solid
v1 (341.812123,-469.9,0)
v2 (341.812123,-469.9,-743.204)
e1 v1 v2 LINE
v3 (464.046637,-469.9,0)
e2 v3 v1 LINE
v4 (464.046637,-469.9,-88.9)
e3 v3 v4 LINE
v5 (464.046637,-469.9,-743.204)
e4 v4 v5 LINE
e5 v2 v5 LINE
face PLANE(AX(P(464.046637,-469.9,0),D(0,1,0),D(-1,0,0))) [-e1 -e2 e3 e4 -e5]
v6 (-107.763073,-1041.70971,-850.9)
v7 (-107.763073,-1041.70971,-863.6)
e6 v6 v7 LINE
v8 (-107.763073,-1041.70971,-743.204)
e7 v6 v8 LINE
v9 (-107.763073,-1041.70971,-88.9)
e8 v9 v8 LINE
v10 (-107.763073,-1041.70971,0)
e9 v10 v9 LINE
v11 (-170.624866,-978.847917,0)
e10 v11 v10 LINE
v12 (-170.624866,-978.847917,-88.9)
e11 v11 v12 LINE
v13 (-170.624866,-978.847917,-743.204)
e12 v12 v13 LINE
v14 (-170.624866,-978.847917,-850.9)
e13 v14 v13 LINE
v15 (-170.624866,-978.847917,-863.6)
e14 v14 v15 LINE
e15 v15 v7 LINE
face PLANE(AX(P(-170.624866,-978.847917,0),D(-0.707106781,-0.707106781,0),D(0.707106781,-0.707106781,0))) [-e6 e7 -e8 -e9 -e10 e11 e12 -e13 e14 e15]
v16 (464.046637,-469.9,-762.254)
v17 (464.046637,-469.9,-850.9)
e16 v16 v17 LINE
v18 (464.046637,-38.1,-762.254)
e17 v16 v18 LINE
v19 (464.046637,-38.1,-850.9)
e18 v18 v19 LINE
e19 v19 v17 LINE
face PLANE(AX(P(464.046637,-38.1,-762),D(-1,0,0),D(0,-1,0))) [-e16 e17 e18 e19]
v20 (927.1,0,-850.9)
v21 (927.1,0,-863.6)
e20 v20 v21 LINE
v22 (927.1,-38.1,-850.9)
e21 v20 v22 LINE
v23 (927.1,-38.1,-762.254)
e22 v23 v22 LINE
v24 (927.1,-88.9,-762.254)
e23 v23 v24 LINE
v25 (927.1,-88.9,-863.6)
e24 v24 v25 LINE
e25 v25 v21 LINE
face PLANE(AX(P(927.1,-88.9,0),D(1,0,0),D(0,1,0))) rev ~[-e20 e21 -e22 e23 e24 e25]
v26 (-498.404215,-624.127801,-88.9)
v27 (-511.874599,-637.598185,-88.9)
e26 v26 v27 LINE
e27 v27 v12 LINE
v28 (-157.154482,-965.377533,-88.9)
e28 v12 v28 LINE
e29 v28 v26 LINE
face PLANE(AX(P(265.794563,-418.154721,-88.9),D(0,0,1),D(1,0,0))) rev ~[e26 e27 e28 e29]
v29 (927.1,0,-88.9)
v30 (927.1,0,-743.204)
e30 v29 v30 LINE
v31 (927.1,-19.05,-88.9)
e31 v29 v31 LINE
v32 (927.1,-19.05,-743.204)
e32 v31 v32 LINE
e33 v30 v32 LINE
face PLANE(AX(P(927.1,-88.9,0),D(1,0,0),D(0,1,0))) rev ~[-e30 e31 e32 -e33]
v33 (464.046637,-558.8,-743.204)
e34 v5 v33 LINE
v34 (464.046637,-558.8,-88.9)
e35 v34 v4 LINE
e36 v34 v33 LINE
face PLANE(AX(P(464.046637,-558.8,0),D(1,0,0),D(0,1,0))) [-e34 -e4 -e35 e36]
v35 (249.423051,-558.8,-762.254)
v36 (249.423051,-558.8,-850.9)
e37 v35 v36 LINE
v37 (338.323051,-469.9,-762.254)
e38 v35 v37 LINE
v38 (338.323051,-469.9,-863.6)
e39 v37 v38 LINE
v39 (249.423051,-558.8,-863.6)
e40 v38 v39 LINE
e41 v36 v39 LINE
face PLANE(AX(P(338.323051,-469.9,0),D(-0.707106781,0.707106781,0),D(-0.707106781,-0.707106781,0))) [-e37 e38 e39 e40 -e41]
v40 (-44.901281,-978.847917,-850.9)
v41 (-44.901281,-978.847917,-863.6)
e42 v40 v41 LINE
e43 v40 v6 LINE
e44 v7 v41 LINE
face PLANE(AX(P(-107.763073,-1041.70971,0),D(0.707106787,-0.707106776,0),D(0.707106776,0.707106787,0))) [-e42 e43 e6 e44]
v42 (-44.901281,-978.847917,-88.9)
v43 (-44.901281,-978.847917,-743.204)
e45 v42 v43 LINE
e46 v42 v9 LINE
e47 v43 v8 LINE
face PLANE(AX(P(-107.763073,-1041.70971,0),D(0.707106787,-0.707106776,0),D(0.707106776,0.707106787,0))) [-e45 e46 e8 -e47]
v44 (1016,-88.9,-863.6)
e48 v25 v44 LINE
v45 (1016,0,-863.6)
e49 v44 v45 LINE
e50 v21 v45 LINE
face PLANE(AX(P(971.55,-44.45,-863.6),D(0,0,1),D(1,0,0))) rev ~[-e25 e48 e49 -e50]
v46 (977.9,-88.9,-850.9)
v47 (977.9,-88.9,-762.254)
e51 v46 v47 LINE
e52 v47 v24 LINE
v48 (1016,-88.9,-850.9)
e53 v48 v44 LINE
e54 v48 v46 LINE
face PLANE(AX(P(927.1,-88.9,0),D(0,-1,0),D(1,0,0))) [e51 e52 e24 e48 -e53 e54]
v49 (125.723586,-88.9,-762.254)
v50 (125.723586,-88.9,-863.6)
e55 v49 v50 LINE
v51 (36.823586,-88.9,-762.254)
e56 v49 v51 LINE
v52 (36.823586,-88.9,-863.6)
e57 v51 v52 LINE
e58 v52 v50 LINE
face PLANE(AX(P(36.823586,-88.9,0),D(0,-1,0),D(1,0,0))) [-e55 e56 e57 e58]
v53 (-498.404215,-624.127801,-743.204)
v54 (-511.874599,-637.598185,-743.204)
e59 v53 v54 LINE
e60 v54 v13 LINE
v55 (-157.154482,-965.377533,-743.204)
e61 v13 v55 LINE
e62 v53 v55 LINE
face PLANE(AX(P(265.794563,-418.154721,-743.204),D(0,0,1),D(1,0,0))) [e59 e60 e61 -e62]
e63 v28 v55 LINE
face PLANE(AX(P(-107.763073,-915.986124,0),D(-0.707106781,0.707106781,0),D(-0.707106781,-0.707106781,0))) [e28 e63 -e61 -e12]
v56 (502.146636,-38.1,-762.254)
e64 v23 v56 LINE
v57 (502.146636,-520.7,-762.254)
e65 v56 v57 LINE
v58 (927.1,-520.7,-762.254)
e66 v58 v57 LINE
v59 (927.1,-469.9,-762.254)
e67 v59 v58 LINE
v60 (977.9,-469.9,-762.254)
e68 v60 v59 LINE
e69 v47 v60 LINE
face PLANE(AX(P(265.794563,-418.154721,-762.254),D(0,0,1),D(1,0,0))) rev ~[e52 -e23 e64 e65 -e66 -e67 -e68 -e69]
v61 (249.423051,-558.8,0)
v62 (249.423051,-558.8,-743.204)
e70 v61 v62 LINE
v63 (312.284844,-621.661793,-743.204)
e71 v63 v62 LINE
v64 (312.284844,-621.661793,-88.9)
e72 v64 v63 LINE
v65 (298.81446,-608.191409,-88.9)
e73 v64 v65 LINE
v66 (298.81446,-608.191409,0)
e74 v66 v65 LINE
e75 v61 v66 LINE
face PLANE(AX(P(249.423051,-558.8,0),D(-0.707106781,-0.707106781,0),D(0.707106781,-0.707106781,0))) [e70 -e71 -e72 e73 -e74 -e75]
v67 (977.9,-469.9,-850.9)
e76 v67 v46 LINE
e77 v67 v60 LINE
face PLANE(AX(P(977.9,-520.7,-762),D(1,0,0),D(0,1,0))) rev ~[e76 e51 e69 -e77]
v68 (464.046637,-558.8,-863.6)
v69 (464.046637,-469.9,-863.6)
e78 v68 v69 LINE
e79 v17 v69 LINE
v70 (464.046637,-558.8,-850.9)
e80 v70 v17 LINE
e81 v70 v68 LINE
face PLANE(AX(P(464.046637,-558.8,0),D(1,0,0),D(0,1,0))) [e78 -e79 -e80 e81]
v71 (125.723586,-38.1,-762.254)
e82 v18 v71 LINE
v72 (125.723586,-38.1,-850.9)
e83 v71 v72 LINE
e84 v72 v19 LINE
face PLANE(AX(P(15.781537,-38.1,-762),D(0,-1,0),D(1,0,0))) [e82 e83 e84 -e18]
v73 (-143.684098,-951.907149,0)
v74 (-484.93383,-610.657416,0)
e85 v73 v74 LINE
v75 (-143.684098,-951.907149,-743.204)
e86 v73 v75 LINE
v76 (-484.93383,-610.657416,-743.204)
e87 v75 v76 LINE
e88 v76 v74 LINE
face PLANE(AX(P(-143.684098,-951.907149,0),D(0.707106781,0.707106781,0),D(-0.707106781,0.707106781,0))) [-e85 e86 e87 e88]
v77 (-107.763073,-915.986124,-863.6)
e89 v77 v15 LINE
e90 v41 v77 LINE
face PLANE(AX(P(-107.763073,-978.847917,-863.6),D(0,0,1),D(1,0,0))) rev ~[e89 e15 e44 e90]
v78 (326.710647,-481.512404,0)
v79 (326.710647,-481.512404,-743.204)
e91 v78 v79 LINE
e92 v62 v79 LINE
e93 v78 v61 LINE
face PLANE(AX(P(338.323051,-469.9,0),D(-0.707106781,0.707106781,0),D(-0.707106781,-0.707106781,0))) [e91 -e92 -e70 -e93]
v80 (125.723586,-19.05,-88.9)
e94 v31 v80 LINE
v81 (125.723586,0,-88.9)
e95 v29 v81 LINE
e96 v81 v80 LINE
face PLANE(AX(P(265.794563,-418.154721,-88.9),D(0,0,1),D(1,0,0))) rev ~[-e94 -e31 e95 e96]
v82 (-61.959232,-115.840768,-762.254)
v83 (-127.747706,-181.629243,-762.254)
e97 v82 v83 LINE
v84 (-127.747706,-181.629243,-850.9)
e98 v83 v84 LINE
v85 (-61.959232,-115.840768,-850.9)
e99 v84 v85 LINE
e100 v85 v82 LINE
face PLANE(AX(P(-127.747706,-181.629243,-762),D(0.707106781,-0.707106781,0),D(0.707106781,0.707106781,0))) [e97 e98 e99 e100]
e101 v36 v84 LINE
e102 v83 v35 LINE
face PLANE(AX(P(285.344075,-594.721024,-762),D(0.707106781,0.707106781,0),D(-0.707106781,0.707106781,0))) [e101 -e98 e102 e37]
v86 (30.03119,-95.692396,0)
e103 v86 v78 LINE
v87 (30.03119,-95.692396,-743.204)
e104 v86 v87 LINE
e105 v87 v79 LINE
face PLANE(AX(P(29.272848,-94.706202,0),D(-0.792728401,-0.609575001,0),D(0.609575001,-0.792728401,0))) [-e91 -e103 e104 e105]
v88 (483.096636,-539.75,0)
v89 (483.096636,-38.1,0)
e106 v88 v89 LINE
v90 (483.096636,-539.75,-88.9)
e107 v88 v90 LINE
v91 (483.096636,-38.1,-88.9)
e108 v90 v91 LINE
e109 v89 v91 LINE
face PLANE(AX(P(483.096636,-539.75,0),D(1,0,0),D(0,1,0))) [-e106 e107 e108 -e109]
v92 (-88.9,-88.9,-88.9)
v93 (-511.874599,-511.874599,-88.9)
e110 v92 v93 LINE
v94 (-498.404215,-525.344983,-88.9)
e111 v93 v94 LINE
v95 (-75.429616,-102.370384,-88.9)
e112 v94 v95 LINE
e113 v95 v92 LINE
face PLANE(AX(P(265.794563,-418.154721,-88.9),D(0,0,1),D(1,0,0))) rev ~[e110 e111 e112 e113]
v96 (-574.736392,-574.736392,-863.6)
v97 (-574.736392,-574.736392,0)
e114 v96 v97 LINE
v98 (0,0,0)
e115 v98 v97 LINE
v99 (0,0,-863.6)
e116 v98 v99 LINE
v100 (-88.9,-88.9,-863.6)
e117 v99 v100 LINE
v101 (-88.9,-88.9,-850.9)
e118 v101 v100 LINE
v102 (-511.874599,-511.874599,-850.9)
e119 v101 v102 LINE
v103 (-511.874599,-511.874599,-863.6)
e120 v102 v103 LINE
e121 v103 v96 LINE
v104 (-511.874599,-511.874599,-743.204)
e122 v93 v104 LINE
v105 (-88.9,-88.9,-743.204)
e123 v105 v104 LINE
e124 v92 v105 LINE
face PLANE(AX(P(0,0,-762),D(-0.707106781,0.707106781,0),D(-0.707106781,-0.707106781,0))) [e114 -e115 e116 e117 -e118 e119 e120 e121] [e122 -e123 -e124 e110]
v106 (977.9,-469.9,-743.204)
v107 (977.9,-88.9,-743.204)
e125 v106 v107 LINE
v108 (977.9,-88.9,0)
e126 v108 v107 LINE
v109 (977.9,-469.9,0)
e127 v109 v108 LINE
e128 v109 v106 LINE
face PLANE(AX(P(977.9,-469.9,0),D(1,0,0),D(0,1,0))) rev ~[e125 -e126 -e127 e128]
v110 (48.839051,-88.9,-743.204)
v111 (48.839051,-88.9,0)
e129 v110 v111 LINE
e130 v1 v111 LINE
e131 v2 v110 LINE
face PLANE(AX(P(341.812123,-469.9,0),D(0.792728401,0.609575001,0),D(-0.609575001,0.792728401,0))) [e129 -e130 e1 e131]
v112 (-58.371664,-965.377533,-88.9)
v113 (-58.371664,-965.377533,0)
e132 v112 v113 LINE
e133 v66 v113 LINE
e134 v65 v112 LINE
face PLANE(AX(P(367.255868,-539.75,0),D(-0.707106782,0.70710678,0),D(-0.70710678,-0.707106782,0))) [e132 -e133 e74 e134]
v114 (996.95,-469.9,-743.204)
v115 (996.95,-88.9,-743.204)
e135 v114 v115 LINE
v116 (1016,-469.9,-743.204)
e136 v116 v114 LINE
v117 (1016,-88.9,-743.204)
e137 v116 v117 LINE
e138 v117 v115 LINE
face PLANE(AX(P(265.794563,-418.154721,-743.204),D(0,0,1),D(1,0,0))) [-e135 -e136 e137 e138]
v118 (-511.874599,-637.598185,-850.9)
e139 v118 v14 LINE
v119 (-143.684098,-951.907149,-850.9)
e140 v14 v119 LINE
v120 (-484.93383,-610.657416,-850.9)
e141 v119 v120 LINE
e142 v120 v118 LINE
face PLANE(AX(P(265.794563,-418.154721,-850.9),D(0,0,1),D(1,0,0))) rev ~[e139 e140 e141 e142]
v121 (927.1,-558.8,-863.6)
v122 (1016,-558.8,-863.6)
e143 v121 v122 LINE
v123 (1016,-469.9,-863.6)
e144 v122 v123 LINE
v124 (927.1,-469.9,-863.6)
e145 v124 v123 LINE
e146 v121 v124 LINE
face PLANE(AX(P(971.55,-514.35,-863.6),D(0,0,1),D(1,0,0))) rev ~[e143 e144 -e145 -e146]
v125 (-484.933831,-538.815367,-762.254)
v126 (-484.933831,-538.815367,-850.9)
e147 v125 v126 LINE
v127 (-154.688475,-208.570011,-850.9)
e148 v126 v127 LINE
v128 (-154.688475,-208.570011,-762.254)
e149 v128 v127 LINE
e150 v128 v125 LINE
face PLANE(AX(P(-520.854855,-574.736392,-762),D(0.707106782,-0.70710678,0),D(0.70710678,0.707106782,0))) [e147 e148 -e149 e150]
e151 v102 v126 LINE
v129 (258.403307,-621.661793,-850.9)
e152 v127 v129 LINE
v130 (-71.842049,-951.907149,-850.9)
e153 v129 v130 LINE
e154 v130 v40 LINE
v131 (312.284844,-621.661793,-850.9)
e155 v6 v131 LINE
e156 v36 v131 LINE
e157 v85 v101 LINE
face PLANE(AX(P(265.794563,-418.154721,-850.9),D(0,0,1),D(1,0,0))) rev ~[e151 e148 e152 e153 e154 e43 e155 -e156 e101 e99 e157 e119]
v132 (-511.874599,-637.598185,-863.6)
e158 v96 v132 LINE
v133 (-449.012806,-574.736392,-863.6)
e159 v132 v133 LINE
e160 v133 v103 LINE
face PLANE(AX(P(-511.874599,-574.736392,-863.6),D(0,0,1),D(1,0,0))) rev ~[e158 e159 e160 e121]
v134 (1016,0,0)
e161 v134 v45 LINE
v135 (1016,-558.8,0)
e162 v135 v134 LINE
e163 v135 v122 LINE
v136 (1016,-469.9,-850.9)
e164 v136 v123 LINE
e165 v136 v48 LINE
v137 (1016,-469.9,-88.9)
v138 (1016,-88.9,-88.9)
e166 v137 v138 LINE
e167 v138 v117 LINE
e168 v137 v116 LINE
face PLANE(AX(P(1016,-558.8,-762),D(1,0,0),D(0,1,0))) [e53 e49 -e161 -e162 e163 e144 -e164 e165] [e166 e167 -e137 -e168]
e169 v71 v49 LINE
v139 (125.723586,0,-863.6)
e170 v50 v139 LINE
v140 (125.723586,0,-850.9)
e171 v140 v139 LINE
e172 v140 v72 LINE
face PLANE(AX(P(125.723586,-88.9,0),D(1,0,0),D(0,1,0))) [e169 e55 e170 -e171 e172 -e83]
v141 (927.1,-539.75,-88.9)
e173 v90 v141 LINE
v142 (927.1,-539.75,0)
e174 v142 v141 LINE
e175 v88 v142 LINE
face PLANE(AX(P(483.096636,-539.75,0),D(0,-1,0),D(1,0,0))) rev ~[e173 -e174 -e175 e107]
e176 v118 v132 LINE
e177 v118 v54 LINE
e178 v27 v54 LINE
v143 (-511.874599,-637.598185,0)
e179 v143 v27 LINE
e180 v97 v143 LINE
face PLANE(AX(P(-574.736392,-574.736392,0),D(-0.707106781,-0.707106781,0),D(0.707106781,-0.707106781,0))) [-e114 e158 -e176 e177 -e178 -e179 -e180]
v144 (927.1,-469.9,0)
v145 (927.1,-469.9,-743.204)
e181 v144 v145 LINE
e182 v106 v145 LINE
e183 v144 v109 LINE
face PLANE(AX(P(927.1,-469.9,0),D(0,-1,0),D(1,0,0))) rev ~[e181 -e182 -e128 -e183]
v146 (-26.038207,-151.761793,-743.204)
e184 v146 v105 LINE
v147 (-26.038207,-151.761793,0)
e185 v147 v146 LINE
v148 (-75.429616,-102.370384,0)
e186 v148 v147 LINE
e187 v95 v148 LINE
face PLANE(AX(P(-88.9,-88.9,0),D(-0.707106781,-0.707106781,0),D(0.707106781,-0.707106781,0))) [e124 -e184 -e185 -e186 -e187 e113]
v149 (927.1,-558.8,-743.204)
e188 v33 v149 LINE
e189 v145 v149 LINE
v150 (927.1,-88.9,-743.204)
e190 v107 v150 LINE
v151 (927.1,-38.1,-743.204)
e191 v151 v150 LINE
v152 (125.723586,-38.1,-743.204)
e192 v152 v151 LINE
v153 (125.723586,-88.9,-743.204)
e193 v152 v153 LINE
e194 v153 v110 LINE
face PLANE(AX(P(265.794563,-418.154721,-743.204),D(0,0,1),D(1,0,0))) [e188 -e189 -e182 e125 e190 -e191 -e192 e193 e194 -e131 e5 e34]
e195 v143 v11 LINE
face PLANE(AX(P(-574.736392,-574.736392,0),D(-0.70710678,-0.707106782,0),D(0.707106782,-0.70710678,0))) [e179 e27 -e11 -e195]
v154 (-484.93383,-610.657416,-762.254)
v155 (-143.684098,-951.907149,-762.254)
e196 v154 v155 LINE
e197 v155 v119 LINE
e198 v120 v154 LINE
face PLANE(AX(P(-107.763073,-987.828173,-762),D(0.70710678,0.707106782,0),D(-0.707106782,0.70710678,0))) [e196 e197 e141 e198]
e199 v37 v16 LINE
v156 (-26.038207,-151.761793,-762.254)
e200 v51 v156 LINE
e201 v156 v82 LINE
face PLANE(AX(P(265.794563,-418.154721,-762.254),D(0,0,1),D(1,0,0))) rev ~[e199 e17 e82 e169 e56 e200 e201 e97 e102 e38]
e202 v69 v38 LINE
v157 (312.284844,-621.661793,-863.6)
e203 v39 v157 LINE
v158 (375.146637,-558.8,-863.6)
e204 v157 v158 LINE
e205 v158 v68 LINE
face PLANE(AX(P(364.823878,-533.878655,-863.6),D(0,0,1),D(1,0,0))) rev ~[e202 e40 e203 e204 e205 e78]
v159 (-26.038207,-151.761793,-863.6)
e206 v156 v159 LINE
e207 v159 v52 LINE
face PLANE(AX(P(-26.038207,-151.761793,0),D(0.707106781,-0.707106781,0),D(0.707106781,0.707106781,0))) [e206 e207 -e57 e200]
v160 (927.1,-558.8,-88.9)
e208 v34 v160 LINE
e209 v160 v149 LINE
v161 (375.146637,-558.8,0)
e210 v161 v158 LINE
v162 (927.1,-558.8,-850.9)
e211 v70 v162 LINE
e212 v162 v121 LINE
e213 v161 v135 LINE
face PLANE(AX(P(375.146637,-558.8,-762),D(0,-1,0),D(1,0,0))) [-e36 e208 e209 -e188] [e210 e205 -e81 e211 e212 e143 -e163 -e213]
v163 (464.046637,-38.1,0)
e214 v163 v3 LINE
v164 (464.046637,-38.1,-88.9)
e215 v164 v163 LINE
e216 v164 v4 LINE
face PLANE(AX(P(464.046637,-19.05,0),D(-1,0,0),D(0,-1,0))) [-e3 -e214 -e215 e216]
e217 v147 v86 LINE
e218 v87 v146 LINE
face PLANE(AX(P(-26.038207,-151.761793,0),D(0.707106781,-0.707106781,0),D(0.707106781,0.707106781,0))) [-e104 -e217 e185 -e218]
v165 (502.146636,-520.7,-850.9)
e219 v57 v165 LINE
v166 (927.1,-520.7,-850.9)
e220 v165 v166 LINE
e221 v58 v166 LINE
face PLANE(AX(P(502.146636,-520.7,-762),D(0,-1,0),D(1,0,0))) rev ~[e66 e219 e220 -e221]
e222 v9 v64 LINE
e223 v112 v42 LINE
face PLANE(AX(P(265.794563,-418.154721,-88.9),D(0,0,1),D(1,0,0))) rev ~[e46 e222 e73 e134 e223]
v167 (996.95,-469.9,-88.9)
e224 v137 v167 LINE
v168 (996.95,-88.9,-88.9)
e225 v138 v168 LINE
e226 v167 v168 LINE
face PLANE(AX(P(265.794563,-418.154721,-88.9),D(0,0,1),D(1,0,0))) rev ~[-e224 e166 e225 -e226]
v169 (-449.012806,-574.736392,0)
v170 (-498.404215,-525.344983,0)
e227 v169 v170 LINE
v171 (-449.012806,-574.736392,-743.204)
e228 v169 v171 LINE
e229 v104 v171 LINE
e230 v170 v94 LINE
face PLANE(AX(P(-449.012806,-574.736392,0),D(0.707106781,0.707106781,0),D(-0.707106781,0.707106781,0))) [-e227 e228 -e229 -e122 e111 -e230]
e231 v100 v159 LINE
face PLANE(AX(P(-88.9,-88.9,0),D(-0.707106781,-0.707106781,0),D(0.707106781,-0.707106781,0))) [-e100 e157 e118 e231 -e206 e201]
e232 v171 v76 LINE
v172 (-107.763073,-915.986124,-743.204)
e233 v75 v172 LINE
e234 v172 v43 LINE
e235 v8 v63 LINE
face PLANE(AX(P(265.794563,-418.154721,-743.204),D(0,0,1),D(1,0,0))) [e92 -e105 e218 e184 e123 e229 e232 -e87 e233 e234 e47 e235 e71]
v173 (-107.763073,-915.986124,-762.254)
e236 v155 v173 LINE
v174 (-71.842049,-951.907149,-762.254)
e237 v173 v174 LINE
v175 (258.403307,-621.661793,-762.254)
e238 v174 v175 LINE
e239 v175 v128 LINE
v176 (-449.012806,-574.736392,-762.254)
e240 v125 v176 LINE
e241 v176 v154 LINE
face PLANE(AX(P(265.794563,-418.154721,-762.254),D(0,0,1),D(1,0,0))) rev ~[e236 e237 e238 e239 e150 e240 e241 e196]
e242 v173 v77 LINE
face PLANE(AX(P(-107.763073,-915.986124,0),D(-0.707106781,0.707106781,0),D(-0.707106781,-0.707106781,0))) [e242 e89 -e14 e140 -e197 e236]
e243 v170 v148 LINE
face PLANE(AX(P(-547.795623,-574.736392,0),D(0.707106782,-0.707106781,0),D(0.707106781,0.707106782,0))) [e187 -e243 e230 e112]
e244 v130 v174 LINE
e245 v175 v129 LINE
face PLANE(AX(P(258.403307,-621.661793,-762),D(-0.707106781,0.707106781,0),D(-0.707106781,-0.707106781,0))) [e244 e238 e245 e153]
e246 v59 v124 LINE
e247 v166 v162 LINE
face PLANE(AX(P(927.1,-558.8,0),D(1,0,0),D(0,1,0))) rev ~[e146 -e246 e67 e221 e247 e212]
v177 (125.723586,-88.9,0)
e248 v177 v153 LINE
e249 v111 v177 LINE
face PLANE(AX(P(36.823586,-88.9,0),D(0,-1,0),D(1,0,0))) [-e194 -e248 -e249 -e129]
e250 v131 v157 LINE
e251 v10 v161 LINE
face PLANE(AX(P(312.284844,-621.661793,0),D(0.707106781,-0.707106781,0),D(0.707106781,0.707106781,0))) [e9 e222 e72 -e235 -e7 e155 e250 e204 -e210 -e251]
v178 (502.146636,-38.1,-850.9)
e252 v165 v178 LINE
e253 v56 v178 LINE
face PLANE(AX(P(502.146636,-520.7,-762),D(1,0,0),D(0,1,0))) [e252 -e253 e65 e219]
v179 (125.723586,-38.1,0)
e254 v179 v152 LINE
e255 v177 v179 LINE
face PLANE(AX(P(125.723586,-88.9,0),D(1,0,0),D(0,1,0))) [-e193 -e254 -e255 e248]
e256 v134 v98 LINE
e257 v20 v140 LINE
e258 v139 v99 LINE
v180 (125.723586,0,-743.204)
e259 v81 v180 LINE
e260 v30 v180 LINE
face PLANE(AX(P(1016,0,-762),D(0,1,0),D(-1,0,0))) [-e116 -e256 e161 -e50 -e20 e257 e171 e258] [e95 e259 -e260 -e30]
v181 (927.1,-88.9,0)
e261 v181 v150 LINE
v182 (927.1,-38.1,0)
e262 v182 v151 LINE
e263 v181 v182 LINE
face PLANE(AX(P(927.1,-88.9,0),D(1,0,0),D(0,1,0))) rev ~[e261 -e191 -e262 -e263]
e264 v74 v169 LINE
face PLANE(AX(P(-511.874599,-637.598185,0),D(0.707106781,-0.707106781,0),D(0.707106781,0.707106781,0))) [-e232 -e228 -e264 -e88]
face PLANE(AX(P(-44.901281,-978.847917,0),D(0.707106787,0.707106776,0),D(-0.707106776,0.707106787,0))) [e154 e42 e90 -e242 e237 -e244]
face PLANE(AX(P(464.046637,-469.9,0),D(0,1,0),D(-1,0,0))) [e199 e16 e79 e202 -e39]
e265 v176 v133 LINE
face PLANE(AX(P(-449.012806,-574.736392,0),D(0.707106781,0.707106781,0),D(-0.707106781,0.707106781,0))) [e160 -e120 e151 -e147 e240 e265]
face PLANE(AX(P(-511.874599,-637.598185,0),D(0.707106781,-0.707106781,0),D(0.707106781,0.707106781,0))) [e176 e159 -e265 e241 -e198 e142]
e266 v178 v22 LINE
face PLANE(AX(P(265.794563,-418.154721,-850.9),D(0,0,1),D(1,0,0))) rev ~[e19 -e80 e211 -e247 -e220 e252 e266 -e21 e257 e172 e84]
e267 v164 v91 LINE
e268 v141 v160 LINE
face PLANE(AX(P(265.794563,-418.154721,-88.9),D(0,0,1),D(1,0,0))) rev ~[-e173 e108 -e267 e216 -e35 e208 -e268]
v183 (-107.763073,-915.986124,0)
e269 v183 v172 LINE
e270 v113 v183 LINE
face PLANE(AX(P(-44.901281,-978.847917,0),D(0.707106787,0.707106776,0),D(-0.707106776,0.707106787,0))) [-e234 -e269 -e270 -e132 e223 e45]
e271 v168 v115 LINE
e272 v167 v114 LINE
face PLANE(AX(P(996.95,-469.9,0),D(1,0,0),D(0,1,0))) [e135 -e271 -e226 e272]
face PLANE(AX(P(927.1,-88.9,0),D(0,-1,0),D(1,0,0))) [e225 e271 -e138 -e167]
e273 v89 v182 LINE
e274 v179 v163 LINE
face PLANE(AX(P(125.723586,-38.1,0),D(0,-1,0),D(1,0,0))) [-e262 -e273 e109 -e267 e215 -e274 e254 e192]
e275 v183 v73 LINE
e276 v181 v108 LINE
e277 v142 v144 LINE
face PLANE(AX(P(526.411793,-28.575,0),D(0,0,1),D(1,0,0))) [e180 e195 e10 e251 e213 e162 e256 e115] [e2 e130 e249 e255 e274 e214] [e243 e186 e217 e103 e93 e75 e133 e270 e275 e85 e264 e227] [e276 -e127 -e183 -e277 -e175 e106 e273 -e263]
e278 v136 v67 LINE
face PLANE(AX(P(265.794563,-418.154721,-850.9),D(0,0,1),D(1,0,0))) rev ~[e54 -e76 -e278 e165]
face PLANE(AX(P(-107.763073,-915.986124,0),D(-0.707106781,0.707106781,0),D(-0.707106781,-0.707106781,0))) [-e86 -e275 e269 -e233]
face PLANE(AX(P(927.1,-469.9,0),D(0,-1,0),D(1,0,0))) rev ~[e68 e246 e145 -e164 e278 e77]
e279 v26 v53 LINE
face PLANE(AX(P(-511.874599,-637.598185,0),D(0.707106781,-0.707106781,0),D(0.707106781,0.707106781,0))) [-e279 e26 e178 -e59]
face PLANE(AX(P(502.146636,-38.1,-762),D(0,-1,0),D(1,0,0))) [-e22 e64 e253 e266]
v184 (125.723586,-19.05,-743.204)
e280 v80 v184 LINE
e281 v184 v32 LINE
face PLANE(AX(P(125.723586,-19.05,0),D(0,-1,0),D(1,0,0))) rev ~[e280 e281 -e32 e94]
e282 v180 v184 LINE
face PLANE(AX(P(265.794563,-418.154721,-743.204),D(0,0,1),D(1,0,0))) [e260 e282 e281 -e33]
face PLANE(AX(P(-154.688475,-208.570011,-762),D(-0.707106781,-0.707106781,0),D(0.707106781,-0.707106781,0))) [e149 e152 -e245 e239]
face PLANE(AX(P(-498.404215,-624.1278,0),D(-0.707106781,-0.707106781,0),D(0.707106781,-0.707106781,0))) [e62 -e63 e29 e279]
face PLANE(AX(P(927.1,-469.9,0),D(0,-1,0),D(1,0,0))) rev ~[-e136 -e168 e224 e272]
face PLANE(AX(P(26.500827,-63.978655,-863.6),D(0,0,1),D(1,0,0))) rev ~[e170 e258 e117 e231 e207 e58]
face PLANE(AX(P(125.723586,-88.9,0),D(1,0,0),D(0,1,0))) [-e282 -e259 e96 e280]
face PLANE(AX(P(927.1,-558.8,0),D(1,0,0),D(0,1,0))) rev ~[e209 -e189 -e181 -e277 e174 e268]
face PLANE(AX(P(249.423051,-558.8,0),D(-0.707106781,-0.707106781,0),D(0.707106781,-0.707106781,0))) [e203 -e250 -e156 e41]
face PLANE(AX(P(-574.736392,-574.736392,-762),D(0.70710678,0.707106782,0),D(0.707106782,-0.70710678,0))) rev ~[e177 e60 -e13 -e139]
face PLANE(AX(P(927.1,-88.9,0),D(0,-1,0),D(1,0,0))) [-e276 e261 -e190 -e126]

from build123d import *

# Parameters (mm, degrees)
F0_W          = 88.9
F0_H          = 88.9
F1_DEPTH      = 863.6
F2_W          = 513.853363
F2_H          = 520.7
F3_DEPTH      = 88.9
F6_W          = 475.753363
F6_H          = 482.6
F7_DEPTH      = 88.9
F9_DEPTH      = 18.796
F9_DEPTH_BACK = 0.254
F10_W         = 801.376414
F10_H         = 19.05
F10_W_2       = 19.05
F10_H_2       = 381
F11_DEPTH     = 743.204


with BuildPart() as f1:
    # F0 (on Top) → F1 (new body)
    with BuildSketch(Plane.XY):
        Polygon((-26.038207, -26.038207), (-88.9, -88.9), (-26.038207, -151.761793), (36.823586, -88.9), (125.723586, -88.9), (125.723586, 0), (36.823586, 0), (0, 0), align=None)
        with Locations((971.55, -44.45)):
            Rectangle(F0_W, F0_H)
        Polygon((-511.874599, -511.874599), (-574.736392, -574.736392), (-511.874599, -637.598185), (-449.012806, -574.736392), align=None)
        Polygon((-170.624866, -978.847917), (-107.763073, -1041.70971), (-44.901281, -978.847917), (-107.763073, -915.986124), align=None)
        Polygon((312.284844, -621.661793), (375.146637, -558.8), (464.046637, -558.8), (464.046637, -469.9), (375.146637, -469.9), (338.323051, -469.9), (312.284844, -495.938207), (249.423051, -558.8), align=None)
        with Locations((971.55, -514.35)):
            Rectangle(F0_W, F0_H)
    extrude(amount=-F1_DEPTH)


with BuildPart() as f3:
    # F2 (on Top) → F3 (new body)
    with BuildSketch(Plane.XY):
        Polygon((1016, 0), (0, 0), (-574.736392, -574.736392), (-107.763073, -1041.70971), (375.146637, -558.8), (1016, -558.8), align=None)
        Polygon((367.255868, -539.75), (-107.763073, -1014.768942), (-547.795623, -574.736392), (7.890768, -19.05), (464.046637, -19.05), (464.046637, -539.75), align=None, mode=Mode.SUBTRACT)
        with Locations((740.023318, -279.4)):
            Rectangle(F2_W, F2_H, mode=Mode.SUBTRACT)
    extrude(amount=-F3_DEPTH)


with BuildPart() as f1_1:
    add(f1.part)

    # F4: union F3
    add(f3.part)

    # F6 (on offset) → F7 (join)
    with BuildSketch(Plane.XY.offset(-762)):
        Polygon((1016, 0), (0, 0), (-574.736392, -574.736392), (-107.763073, -1041.70971), (375.146637, -558.8), (1016, -558.8), align=None)
        Polygon((-107.763073, -987.828173), (-520.854855, -574.736392), (-154.688475, -208.570011), (258.403307, -621.661793), align=None, mode=Mode.SUBTRACT)
        Polygon((-127.747706, -181.629243), (15.781537, -38.1), (464.046637, -38.1), (464.046637, -520.7), (359.3651, -520.7), (285.344075, -594.721024), align=None, mode=Mode.SUBTRACT)
        with Locations((740.023318, -279.4)):
            Rectangle(F6_W, F6_H, mode=Mode.SUBTRACT)
    extrude(amount=-F7_DEPTH)

    # F8 (on face) → F9 (join, two sides)
    with BuildSketch(Plane.XY.offset(-762)) as f9_sk:
        Polygon((-574.736392, -574.736392), (-107.763073, -1041.70971), (375.146637, -558.8), (1016, -558.8), (1016, 0), (0, 0), align=None)
    extrude(amount=F9_DEPTH)
    extrude(f9_sk.sketch, amount=-F9_DEPTH_BACK)

    # F10 (on Top) → F11 (join, through all)
    with BuildSketch(Plane.XY):
        with Locations((526.411793, -28.575)):
            Rectangle(F10_W, F10_H)
        with Locations((987.425, -279.4)):
            Rectangle(F10_W_2, F10_H_2)
        Polygon((44.374324, -83.093798), (29.272848, -94.706202), (326.710647, -481.512404), (341.812123, -469.9), align=None)
        Polygon((-484.933831, -610.657416), (-498.404215, -624.1278), (-157.154482, -965.377533), (-143.684098, -951.907149), align=None)
    extrude(amount=-F11_DEPTH)


solid = f1_1.part
